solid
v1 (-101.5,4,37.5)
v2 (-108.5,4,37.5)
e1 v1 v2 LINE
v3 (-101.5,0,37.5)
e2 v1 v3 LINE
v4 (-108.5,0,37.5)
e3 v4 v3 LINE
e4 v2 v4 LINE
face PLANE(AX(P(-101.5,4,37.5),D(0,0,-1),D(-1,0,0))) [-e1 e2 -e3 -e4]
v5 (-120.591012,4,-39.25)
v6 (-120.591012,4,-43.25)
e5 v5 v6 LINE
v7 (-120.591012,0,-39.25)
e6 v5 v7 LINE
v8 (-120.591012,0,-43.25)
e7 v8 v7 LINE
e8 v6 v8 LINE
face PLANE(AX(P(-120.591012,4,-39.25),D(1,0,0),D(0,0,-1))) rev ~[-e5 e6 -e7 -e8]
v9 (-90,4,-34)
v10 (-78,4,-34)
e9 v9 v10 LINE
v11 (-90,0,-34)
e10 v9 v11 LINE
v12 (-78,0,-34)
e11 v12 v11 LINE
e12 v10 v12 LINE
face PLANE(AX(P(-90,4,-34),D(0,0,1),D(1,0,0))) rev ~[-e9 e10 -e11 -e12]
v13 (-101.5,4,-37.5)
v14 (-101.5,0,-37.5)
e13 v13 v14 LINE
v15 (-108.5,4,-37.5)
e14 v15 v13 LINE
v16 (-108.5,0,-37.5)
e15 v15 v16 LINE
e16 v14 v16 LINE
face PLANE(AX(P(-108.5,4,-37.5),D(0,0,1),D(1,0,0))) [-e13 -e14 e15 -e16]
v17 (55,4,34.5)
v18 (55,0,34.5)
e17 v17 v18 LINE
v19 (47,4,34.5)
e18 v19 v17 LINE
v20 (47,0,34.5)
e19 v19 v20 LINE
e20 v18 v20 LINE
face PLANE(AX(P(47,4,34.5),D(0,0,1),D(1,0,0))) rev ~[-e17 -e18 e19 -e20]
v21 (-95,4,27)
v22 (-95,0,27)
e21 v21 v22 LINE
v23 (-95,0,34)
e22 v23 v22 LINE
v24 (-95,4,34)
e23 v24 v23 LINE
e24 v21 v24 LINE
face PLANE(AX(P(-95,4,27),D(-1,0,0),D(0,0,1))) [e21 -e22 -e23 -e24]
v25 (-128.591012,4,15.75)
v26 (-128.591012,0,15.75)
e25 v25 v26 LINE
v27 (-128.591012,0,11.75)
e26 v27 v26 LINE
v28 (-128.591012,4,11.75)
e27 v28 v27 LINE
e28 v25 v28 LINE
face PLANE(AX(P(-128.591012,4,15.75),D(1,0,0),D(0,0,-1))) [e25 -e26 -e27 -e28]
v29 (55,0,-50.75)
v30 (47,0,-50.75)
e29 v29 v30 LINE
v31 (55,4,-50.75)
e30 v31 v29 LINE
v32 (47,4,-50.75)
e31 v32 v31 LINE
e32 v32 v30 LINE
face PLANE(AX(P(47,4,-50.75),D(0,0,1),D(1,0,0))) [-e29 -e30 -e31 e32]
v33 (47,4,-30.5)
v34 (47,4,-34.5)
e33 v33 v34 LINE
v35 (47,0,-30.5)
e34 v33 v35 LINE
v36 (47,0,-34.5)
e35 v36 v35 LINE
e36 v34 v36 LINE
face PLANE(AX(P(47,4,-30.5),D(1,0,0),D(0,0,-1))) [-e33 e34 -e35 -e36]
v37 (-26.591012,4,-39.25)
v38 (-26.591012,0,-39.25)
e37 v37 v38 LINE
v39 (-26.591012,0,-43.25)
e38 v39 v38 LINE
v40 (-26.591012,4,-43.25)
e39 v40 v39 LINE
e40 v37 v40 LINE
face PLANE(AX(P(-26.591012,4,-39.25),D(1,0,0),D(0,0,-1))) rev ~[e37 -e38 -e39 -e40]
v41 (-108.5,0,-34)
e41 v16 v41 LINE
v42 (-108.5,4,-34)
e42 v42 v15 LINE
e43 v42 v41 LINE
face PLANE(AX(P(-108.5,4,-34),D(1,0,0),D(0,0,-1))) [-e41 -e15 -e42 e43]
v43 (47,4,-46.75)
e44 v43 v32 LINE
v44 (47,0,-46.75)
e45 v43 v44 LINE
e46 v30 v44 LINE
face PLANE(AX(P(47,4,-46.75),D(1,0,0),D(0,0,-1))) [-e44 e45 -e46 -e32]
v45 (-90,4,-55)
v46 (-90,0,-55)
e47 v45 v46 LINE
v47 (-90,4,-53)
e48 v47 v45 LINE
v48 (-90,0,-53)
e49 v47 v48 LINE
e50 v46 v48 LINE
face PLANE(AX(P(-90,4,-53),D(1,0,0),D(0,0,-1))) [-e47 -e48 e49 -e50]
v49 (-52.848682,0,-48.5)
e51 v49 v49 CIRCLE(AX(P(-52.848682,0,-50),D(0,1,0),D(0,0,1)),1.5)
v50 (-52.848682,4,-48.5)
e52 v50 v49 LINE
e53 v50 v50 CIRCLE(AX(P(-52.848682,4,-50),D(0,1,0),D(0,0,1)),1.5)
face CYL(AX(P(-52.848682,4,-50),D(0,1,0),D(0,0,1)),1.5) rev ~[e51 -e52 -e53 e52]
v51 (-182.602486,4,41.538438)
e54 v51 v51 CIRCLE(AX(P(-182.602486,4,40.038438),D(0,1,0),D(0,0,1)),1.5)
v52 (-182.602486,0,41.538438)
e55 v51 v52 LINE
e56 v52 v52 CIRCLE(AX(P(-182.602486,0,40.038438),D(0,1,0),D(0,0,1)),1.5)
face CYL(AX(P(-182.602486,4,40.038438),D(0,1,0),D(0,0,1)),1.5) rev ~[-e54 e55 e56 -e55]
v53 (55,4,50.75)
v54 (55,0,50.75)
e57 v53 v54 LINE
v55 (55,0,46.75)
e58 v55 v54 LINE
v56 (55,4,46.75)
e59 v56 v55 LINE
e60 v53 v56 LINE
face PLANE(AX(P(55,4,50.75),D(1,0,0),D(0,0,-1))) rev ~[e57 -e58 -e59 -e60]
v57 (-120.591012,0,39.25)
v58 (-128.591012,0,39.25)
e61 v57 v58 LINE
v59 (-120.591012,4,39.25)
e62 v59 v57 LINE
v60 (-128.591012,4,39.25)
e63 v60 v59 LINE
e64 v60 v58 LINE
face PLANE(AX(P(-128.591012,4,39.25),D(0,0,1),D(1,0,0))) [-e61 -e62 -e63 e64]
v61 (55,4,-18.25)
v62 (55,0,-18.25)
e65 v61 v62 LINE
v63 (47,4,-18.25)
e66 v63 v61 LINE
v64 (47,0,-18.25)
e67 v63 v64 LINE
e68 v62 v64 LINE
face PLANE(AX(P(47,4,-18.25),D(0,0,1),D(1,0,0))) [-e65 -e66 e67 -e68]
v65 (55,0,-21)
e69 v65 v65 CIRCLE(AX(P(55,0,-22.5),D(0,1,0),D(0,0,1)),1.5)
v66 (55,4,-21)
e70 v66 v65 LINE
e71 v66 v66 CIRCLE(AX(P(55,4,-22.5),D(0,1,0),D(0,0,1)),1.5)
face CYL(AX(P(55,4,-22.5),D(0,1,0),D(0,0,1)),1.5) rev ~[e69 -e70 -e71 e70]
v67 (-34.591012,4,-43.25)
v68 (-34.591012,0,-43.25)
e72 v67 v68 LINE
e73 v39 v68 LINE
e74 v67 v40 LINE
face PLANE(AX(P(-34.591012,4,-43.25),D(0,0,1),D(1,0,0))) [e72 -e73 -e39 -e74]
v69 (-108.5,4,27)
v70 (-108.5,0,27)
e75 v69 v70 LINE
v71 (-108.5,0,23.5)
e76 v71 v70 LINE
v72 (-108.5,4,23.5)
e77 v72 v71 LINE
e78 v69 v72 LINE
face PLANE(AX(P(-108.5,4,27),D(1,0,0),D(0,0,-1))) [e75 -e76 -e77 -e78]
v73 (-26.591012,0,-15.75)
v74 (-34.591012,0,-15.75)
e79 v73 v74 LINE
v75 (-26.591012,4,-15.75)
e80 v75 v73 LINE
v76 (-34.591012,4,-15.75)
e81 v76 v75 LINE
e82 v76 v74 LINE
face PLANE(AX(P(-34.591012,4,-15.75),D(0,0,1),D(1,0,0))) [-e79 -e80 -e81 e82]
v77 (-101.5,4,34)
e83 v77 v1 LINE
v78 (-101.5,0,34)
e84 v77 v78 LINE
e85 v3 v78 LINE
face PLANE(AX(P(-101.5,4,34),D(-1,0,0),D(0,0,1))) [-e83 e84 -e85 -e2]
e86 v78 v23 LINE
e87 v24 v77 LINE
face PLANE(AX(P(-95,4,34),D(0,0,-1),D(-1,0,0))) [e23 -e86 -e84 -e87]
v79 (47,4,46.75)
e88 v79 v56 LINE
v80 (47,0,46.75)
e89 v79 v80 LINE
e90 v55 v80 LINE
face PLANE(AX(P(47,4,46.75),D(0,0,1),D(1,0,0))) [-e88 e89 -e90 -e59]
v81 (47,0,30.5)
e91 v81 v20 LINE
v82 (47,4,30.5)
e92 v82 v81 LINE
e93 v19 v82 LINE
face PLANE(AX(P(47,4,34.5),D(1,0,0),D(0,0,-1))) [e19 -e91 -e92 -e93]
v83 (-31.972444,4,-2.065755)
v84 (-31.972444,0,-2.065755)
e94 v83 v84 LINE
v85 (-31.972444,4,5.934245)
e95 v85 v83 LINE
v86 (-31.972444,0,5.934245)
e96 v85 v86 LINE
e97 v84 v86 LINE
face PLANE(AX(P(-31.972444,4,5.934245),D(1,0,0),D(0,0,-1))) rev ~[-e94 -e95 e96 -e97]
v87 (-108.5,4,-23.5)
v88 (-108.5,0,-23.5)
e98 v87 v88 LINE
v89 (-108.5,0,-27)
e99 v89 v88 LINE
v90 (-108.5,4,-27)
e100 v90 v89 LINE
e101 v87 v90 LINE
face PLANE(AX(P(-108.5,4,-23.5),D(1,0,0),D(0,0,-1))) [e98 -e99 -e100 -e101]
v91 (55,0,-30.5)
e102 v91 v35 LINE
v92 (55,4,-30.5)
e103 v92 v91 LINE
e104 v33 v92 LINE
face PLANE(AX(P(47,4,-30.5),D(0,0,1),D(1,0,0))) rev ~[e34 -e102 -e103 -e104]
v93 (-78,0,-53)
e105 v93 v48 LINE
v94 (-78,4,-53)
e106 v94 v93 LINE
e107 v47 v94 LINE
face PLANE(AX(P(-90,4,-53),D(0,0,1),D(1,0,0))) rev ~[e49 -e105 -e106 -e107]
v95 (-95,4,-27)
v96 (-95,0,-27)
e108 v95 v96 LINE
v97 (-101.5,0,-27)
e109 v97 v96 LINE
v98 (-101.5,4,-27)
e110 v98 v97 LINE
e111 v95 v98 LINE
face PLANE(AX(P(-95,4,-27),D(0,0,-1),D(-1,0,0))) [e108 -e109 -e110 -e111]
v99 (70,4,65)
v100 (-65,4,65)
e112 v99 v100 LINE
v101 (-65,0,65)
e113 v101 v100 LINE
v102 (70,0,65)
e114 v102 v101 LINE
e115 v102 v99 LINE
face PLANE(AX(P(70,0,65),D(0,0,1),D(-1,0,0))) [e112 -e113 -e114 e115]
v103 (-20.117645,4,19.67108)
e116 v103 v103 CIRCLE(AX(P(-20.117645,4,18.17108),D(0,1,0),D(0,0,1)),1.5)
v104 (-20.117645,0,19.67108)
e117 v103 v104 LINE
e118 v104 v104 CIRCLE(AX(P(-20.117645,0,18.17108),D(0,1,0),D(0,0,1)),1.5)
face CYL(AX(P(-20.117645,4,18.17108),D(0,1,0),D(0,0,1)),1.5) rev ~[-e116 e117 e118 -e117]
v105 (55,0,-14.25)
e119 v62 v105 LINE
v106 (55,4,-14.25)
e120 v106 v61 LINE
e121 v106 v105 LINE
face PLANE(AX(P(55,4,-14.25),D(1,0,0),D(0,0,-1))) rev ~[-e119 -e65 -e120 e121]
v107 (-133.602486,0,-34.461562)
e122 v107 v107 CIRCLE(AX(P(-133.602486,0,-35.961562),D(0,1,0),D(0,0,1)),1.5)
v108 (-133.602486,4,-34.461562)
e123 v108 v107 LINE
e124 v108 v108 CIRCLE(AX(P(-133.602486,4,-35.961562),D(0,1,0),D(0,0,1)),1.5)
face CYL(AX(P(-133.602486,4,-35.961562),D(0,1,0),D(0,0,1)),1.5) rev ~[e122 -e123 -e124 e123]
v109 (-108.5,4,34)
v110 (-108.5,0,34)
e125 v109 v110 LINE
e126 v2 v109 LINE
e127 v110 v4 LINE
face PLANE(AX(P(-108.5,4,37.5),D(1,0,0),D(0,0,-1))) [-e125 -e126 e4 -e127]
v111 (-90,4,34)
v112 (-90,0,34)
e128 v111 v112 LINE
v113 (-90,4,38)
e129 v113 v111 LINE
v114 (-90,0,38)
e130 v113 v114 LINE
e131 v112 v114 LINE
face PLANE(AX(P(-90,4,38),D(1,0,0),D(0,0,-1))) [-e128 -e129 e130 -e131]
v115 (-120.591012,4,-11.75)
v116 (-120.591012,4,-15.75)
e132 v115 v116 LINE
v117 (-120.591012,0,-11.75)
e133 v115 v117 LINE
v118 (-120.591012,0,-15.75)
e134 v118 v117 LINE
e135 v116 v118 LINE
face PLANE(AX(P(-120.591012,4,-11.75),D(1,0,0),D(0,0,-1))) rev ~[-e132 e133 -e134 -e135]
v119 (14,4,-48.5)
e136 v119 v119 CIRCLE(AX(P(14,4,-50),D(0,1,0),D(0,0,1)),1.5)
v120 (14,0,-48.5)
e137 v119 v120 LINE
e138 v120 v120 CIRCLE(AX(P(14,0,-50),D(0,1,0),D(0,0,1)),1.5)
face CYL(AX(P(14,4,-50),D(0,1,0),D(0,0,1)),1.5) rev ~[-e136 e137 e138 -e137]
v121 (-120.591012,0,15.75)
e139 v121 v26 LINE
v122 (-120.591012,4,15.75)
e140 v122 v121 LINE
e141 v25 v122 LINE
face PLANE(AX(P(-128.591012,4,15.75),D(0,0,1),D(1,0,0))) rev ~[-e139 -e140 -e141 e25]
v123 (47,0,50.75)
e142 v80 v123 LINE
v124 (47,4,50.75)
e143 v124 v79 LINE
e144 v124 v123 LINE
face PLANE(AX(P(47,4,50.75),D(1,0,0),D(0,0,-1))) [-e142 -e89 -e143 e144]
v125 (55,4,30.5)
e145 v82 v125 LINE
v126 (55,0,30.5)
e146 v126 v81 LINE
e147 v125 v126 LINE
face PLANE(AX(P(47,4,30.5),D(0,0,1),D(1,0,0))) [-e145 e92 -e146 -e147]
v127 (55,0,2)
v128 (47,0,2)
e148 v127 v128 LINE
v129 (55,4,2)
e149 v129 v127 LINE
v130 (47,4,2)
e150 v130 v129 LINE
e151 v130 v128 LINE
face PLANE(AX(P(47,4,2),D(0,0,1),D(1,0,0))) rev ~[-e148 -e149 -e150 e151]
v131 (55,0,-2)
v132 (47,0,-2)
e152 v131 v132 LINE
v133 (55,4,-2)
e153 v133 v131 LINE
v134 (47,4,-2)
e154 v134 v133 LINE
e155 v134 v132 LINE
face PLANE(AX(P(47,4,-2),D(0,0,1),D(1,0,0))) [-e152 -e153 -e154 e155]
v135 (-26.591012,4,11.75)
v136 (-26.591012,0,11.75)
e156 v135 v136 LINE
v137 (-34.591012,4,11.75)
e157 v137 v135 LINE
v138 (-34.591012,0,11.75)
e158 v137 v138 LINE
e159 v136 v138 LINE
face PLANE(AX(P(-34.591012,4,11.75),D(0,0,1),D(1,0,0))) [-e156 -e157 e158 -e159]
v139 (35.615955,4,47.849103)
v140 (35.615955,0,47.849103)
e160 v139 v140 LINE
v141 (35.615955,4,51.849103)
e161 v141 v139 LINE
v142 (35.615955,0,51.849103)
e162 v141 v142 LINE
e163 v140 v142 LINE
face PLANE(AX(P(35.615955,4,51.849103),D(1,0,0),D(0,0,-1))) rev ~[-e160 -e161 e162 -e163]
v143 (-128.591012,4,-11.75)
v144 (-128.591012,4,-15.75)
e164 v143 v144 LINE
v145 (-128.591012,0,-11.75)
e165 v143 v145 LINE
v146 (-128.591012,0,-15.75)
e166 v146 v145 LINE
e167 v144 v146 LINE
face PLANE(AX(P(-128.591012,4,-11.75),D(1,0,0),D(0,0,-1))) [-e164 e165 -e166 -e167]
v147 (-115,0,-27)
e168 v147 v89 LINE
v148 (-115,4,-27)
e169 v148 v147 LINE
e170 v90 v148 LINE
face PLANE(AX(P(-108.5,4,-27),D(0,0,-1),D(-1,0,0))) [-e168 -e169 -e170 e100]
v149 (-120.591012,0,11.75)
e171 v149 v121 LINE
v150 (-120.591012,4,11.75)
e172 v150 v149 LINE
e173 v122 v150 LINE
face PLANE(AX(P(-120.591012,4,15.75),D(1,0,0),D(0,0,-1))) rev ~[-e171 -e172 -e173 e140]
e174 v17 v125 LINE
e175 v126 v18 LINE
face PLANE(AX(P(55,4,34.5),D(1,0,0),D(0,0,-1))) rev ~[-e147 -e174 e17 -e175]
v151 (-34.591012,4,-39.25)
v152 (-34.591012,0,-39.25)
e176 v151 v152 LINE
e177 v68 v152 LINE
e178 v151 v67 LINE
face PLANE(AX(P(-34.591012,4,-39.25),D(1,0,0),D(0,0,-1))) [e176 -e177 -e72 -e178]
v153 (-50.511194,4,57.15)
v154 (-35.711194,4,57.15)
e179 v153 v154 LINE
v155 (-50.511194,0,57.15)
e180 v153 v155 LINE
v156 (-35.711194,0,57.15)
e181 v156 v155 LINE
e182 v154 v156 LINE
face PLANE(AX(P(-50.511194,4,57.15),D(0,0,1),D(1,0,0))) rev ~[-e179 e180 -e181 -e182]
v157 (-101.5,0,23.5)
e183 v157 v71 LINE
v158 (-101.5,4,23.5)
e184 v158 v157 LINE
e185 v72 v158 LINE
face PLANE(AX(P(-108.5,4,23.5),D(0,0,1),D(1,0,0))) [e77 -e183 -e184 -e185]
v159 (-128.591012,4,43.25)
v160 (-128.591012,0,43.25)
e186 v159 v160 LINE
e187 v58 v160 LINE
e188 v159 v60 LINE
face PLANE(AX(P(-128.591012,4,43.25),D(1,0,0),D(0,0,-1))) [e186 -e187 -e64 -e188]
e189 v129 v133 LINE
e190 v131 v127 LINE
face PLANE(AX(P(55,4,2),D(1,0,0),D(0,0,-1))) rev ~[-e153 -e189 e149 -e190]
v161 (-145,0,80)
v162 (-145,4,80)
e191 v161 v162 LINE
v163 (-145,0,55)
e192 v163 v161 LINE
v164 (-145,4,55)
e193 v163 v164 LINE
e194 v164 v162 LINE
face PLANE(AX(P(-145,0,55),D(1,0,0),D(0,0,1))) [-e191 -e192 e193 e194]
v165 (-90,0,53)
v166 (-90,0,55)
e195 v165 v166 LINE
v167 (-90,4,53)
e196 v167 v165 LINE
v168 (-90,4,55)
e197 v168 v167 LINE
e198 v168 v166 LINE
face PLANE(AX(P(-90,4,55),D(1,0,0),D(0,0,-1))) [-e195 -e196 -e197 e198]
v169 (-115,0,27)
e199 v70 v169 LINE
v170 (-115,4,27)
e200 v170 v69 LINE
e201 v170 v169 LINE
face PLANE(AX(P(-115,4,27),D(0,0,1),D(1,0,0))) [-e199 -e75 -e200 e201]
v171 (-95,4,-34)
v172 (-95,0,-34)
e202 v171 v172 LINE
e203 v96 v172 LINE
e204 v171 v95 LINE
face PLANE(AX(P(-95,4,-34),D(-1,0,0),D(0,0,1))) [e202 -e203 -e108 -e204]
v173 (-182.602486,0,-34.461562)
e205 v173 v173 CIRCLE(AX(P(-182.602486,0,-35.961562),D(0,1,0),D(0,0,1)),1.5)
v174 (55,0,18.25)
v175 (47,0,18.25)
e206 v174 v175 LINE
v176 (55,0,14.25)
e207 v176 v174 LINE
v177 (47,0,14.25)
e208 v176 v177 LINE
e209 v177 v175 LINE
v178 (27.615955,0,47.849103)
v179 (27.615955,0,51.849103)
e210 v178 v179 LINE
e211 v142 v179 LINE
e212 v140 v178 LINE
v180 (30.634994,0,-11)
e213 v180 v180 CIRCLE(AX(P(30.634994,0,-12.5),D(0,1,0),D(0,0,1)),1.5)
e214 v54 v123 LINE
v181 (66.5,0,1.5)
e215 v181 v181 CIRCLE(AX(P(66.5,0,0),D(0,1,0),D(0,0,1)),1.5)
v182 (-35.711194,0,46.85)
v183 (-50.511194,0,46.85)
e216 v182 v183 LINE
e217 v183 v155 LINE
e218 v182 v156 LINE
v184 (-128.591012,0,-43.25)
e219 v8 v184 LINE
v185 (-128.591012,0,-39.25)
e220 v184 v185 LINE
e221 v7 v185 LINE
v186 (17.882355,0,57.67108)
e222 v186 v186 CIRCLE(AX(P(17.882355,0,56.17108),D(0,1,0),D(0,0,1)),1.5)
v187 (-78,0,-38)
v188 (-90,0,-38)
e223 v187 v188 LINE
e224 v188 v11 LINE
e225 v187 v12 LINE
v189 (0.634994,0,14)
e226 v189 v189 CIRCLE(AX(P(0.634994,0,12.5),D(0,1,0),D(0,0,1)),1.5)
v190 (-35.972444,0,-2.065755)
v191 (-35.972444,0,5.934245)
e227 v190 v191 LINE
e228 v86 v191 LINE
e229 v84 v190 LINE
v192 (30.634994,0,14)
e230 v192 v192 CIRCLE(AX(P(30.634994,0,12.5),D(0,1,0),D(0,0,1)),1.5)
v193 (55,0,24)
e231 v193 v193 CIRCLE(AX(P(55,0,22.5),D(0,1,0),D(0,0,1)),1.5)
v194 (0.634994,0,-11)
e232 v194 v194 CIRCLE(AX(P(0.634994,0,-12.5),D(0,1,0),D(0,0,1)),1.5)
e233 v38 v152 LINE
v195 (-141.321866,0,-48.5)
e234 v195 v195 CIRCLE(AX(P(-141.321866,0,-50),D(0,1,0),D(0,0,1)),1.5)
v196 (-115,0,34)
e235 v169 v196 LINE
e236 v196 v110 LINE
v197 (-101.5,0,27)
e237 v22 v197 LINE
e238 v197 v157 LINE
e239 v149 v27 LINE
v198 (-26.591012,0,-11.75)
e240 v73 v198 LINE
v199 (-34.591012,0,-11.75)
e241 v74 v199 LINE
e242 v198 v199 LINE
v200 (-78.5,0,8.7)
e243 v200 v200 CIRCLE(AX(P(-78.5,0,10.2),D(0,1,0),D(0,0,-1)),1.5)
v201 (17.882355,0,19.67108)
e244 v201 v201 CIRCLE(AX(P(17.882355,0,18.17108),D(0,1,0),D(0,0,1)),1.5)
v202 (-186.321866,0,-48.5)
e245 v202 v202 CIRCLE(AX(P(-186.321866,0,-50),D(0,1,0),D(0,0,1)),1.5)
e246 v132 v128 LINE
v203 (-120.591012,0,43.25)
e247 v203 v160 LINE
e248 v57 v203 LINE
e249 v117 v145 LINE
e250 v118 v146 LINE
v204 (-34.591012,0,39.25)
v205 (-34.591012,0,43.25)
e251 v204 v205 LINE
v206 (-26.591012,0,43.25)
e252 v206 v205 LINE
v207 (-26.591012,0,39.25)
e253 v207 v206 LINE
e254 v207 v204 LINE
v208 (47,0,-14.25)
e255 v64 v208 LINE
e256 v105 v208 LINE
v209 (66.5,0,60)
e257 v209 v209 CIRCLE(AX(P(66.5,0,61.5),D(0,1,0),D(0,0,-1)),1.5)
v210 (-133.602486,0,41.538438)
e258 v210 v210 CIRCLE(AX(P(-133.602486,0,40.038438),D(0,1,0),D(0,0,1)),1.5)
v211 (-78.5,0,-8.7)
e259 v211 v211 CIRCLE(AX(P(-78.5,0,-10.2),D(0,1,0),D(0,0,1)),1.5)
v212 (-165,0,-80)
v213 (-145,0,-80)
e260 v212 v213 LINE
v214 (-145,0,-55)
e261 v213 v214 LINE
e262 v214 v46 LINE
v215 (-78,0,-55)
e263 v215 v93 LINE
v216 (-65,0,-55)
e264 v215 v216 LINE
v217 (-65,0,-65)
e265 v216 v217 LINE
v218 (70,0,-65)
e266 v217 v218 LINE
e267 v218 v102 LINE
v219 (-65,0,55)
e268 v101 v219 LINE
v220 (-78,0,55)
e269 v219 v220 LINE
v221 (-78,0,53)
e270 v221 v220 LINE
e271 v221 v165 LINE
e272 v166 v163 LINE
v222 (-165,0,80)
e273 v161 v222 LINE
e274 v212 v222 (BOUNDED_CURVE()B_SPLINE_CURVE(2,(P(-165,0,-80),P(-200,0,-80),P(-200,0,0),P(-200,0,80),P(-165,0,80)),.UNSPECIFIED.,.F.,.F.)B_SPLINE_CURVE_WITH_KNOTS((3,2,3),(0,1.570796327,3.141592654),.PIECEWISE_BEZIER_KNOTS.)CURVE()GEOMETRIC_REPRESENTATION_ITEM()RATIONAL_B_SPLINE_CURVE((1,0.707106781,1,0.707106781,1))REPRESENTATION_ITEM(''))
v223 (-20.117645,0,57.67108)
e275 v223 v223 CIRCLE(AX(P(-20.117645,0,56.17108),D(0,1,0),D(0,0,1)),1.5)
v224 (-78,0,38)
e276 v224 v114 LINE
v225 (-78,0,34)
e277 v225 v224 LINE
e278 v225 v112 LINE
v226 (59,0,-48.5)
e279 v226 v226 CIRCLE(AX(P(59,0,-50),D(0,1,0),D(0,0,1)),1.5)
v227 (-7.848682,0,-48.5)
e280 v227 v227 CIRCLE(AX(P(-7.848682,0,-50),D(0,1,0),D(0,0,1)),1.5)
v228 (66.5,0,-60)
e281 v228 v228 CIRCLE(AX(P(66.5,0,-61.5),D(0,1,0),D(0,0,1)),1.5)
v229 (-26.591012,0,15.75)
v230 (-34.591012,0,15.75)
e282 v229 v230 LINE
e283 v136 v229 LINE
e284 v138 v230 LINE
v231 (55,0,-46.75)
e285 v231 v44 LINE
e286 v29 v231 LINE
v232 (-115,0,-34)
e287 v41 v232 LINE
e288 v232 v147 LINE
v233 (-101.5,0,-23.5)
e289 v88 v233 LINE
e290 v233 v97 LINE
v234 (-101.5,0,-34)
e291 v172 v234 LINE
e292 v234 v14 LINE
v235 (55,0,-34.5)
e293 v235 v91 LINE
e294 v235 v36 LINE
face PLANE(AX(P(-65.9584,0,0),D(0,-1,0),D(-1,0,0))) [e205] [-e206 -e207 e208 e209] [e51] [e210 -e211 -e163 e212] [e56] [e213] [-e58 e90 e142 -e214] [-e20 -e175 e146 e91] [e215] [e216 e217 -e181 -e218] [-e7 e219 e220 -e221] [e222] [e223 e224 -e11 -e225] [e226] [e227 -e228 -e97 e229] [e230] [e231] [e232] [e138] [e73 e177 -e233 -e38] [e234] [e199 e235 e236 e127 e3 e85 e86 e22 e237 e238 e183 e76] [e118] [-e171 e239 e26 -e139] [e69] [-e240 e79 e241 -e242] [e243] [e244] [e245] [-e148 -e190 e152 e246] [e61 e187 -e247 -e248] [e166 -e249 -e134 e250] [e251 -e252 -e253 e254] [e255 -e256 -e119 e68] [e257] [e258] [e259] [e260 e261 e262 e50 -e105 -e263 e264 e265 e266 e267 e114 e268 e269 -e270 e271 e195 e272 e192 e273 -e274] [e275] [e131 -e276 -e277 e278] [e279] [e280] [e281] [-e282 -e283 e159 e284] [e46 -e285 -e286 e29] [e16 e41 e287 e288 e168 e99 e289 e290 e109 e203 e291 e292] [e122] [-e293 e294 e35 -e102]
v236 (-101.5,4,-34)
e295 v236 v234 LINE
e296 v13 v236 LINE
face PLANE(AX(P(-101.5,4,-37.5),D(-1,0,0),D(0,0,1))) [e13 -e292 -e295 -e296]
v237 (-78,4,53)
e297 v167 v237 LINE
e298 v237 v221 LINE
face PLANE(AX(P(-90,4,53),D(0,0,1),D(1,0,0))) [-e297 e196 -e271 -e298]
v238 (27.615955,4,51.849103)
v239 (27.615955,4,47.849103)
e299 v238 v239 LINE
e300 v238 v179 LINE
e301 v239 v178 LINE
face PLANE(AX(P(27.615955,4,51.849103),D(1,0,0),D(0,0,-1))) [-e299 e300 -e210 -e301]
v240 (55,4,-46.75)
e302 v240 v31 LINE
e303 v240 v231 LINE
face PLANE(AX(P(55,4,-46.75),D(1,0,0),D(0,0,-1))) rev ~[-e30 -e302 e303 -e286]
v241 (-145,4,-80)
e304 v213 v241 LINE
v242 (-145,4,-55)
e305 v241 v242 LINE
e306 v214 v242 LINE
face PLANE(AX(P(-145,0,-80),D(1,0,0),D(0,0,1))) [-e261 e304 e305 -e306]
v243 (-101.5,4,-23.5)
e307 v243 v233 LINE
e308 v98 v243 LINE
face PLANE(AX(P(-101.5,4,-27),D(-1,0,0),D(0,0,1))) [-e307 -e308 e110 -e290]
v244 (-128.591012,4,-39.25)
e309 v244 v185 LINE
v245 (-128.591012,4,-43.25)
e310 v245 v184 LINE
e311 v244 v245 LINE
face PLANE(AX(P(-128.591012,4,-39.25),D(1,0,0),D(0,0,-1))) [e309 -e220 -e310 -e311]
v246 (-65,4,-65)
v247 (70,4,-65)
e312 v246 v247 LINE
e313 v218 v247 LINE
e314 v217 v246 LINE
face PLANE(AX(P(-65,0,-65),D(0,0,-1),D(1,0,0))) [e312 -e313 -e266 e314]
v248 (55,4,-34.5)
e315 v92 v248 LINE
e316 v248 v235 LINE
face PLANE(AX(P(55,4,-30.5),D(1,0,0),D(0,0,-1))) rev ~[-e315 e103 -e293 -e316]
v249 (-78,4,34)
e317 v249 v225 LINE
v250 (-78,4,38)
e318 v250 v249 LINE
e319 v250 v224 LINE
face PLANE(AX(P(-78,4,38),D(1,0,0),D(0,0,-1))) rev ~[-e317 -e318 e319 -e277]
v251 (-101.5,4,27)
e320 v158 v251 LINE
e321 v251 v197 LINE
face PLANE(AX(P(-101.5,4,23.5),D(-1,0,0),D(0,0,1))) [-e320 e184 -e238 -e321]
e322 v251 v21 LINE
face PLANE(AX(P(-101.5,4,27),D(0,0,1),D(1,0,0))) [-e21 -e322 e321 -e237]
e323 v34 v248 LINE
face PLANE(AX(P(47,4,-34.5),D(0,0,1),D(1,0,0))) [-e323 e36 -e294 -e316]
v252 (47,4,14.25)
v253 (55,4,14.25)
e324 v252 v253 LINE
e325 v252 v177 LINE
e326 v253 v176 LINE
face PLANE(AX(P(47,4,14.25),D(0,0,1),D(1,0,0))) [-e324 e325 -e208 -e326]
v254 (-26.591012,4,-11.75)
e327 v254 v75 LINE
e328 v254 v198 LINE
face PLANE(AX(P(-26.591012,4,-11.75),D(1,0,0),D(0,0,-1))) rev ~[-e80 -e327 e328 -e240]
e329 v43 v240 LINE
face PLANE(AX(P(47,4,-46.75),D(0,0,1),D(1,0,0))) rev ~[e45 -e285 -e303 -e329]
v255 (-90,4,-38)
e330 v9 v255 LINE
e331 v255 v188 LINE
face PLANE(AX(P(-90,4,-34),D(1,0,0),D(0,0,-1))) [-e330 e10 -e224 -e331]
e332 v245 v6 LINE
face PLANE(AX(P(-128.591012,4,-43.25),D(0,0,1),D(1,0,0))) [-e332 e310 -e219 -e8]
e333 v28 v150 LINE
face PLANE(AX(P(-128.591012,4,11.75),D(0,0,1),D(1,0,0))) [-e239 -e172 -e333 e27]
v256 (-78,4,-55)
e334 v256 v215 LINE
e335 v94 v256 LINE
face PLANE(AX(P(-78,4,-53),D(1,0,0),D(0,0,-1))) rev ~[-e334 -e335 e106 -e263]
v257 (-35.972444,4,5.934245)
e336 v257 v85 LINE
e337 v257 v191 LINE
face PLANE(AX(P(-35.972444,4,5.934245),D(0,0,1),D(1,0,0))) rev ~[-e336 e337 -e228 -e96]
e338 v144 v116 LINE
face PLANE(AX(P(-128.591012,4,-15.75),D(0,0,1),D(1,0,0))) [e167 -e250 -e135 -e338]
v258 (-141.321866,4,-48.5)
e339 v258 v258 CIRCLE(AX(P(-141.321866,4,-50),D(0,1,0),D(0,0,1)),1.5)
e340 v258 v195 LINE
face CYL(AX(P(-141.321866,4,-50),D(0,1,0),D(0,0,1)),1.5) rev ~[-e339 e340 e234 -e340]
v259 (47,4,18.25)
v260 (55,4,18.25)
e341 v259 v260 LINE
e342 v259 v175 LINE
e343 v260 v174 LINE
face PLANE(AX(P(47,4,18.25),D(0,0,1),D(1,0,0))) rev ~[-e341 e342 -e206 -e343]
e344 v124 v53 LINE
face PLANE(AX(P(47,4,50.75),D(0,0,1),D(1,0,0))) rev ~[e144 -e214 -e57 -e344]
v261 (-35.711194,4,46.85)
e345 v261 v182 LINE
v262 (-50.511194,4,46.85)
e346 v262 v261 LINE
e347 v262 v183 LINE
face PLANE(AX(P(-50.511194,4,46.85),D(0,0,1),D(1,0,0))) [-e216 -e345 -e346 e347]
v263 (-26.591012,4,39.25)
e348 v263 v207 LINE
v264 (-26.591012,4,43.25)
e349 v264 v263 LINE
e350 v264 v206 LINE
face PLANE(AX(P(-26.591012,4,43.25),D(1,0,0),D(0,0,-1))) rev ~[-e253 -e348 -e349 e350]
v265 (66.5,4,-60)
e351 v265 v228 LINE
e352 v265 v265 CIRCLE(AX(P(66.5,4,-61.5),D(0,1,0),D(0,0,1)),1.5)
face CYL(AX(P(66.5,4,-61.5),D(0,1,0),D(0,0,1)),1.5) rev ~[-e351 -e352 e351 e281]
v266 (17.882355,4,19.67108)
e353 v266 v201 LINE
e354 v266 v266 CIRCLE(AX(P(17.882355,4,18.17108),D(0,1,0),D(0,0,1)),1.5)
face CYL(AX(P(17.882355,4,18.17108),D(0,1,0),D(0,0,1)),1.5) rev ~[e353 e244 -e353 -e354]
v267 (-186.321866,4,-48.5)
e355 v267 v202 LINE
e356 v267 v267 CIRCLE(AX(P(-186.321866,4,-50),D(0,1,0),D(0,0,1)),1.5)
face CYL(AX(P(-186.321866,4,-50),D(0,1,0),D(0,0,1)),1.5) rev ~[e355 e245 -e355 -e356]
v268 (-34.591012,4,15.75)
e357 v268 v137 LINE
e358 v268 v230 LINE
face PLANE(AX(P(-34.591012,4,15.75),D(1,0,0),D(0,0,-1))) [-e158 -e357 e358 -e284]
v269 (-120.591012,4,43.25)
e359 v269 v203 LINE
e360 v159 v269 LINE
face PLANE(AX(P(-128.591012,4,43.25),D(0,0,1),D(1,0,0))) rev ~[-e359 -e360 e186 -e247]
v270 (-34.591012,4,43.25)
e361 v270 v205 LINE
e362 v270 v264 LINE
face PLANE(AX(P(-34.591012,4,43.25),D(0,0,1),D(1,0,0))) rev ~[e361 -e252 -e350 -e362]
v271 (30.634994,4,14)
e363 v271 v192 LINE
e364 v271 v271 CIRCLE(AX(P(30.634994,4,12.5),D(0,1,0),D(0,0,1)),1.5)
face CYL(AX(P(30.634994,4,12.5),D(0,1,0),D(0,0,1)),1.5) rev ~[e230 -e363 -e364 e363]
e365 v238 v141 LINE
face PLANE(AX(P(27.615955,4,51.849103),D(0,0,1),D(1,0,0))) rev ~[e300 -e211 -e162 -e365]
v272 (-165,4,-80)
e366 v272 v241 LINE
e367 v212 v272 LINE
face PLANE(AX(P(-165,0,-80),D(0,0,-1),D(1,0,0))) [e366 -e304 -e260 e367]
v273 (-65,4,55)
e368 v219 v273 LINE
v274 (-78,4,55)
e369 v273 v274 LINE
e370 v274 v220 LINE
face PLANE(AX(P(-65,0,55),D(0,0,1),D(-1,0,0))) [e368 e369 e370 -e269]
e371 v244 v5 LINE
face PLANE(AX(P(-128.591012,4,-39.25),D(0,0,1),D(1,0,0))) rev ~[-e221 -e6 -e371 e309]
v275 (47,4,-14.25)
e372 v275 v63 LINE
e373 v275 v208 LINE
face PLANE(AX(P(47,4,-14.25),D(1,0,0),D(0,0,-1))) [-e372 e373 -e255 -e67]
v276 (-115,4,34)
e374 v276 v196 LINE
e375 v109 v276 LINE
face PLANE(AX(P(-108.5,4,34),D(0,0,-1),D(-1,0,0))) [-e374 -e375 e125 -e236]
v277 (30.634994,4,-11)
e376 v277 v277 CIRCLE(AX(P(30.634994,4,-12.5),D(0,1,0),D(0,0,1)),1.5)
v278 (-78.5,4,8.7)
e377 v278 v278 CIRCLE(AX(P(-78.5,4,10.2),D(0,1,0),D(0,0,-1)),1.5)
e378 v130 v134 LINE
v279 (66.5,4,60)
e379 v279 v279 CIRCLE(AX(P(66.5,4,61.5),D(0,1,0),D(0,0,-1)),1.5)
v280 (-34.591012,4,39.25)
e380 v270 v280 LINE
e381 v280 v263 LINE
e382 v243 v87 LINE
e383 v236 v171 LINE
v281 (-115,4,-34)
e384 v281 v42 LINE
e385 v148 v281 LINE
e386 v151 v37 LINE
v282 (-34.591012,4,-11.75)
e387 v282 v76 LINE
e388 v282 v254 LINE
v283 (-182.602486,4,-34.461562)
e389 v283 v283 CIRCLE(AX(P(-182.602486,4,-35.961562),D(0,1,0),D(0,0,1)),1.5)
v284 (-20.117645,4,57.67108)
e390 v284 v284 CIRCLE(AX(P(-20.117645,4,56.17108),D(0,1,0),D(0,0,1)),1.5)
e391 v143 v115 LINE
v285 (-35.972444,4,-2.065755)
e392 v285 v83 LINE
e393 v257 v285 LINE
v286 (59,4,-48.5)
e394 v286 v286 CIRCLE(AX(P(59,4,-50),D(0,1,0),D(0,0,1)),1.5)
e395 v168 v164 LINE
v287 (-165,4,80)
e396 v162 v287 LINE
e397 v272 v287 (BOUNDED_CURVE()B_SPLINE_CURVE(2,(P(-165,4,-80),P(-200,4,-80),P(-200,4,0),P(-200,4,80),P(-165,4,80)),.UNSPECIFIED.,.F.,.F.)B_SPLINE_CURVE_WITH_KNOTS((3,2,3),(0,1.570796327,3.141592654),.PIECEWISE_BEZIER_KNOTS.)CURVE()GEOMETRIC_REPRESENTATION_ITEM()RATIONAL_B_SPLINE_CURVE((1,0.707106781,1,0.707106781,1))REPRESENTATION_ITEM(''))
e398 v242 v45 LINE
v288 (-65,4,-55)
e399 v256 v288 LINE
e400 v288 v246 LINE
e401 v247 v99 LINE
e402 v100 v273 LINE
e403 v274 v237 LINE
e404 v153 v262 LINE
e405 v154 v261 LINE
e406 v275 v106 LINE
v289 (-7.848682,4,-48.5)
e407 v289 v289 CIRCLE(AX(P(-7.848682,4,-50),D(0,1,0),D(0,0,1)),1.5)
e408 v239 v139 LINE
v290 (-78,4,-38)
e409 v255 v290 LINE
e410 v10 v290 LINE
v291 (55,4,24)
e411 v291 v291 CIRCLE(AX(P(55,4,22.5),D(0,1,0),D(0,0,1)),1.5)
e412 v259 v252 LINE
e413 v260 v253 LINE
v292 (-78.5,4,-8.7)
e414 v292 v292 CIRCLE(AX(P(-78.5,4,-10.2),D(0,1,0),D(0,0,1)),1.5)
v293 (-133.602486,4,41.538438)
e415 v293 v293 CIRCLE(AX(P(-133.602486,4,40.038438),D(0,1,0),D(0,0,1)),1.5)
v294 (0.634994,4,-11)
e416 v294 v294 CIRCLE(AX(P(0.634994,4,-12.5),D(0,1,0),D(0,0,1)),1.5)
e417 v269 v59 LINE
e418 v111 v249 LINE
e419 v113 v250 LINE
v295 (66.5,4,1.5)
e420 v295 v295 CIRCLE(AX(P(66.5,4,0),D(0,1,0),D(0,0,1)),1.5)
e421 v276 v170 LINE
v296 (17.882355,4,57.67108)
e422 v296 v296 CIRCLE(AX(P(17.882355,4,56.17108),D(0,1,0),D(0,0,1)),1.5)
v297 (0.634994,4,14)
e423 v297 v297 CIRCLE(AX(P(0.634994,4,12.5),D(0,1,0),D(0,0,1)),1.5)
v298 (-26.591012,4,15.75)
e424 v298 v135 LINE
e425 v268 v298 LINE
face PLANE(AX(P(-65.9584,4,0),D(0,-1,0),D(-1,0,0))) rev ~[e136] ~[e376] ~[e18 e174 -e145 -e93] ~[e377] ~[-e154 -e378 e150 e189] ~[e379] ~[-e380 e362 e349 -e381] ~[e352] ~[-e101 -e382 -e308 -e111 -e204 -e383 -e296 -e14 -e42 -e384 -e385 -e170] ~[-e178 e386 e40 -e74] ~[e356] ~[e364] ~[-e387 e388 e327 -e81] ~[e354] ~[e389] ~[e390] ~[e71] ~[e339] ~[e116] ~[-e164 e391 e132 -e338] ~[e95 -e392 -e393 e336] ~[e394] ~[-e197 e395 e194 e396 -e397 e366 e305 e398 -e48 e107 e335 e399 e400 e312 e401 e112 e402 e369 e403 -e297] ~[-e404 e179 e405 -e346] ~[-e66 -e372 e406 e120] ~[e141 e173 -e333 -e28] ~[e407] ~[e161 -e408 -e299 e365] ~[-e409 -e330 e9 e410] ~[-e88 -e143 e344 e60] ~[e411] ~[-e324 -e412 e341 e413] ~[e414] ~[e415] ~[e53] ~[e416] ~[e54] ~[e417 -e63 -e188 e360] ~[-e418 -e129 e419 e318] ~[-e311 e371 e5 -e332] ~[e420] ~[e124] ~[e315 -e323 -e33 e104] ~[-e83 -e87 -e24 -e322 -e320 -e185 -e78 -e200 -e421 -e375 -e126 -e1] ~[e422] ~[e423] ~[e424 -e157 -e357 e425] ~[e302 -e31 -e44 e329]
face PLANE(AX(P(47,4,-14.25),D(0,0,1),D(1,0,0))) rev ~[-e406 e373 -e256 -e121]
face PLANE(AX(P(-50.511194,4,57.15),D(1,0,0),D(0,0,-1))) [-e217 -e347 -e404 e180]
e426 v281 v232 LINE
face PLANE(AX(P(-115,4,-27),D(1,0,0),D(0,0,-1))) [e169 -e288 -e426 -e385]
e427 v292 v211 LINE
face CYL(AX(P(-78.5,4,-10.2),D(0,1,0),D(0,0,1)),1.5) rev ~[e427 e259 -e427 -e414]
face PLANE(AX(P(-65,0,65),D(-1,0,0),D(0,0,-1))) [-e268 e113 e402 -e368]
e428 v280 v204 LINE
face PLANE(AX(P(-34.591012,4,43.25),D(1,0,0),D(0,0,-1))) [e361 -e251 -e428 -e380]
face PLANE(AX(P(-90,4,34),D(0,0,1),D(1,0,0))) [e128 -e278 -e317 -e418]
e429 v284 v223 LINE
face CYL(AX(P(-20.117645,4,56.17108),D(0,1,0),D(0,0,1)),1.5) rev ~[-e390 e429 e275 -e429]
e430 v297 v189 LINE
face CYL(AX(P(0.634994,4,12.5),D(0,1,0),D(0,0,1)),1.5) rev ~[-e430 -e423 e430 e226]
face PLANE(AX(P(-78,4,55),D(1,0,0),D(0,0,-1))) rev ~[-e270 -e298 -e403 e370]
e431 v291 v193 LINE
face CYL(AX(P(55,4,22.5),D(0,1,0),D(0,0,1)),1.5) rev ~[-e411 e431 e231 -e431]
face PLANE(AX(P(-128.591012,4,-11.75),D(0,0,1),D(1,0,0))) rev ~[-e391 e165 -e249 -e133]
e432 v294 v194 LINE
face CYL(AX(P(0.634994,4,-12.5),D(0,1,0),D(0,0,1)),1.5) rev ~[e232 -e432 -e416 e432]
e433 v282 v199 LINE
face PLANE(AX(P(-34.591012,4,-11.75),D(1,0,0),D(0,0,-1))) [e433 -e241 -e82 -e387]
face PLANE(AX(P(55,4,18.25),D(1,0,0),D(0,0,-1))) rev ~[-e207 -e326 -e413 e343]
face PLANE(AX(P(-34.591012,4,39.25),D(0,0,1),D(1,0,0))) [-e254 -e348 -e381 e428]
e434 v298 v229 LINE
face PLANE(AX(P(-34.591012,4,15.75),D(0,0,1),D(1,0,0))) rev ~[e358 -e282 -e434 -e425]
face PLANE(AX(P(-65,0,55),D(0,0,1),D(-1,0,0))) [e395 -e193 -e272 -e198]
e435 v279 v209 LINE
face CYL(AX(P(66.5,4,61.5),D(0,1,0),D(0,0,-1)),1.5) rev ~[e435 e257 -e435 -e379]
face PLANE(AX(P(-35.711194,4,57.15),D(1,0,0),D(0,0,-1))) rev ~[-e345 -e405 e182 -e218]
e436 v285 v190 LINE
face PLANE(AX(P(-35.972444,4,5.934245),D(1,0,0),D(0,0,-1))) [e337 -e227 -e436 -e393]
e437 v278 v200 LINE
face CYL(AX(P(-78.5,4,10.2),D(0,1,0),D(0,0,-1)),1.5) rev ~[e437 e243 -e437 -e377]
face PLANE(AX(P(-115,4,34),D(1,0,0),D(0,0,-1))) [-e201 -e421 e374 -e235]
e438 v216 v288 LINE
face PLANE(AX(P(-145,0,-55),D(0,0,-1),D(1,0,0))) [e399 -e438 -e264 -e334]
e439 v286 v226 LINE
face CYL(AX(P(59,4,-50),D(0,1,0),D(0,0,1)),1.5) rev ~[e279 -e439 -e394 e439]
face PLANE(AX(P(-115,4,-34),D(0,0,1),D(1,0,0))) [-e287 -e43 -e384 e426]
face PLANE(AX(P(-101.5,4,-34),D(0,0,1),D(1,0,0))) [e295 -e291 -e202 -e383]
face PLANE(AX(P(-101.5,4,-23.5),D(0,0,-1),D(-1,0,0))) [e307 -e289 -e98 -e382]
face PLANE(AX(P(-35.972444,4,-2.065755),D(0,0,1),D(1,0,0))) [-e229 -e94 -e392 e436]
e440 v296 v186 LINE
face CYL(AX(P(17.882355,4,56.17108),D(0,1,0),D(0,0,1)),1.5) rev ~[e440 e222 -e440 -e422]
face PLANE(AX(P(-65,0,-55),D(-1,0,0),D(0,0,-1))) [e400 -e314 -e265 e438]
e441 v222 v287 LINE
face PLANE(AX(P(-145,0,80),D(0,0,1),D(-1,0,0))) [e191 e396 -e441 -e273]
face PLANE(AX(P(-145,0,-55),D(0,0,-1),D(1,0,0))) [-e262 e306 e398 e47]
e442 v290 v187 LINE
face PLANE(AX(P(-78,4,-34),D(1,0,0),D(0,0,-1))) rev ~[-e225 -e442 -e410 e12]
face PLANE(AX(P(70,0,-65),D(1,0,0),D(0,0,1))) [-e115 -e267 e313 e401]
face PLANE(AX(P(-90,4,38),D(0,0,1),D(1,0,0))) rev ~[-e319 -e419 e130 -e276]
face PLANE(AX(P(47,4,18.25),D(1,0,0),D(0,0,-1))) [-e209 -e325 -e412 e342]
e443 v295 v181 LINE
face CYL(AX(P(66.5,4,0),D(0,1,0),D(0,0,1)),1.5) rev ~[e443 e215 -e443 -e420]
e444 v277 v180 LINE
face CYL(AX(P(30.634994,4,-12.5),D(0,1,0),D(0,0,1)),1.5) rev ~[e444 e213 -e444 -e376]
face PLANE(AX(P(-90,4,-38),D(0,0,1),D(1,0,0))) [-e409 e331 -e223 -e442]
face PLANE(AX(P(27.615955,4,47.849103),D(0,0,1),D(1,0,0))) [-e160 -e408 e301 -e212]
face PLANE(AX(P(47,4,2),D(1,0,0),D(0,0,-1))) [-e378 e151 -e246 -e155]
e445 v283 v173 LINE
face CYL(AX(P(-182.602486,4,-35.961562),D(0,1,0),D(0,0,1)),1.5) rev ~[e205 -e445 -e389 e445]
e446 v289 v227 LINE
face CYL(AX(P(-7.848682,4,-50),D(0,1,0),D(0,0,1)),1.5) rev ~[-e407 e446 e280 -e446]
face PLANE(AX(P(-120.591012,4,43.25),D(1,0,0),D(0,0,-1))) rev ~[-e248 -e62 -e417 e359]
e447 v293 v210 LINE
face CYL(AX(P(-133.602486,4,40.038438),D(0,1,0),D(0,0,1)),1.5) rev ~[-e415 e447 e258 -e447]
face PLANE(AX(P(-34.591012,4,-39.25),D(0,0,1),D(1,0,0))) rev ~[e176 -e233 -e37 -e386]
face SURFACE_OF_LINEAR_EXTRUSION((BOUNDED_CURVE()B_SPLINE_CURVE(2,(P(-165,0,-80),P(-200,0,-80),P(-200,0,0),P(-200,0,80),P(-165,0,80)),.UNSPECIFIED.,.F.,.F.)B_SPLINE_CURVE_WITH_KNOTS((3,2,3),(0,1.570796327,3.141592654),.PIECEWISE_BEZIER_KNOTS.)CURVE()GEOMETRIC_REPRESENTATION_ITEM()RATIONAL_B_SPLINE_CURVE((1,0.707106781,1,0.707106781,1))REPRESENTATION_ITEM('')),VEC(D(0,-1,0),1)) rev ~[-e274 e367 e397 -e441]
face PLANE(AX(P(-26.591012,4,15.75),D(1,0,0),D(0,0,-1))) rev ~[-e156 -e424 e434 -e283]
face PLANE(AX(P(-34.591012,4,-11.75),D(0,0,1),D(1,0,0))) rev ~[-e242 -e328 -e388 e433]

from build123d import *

# Parameters (mm, degrees)
BOSS_EXTRUDE1_DEPTH = 4
SKETCH3_R           = 1.5
CUT_EXTRUDE1_DEPTH  = 212.025041063
SKETCH4_W           = 8
SKETCH4_H           = 4
CUT_EXTRUDE2_DEPTH  = 216.443728284
SKETCH12_W          = 12
SKETCH12_H          = 2
SKETCH12_H_2        = 4
CUT_EXTRUDE8_DEPTH  = 216.443728284
SKETCH5_R           = 1.5
SKETCH5_W           = 4
SKETCH5_H           = 8
CUT_EXTRUDE3_DEPTH  = 216.443728284
SKETCH7_W           = 14.8
SKETCH7_H           = 10.3
CUT_EXTRUDE4_DEPTH  = 216.443728284
SKETCH8_R           = 1.5
CUT_EXTRUDE5_DEPTH  = 193.963810644
SKETCH9_W           = 8
SKETCH9_H           = 4
CUT_EXTRUDE6_DEPTH  = 216.443728284
SKETCH10_R          = 1.5
CUT_EXTRUDE7_DEPTH  = 216.443728284
SKETCH13_W          = 8
SKETCH13_H          = 4
CUT_EXTRUDE9_DEPTH  = 216.443728284
SKETCH14_R          = 1.5
CUT_EXTRUDE10_DEPTH = 216.443728284
SKETCH15_R          = 1.5
CUT_EXTRUDE11_DEPTH = 216.443728284


with BuildPart() as part:
    # Sketch1 → Boss-Extrude1 (new body)
    with BuildSketch(Plane(origin=(0, 0, 0), x_dir=(1, 0, 0), z_dir=(0, 1, 0))):
        with BuildLine():
            Line((-70, -55), (-145, -55))
            Line((-145, -55), (-145, -80))
            Line((-145, -80), (-165, -80))
            add(Edge.make_bspline(
                [(-165, 80), (-200, 80), (-200, 0), (-200, -80), (-165, -80)],
                knots=[0, 0, 0, 1.570796327, 1.570796327, 3.141592654, 3.141592654, 3.141592654], degree=2, weights=[1, 0.707106781, 1, 0.707106781, 1]))
            Line((-165, 80), (-145, 80))
            Line((-145, 80), (-145, 55))
            Line((-145, 55), (-70, 55))
            Line((-70, 55), (-65, 55))
            Line((-65, 55), (-65, 65))
            Line((-65, 65), (70, 65))
            Line((70, 65), (70, -65))
            Line((70, -65), (-65, -65))
            Line((-65, -65), (-65, -55))
            Line((-65, -55), (-70, -55))
        make_face()
    extrude(amount=BOSS_EXTRUDE1_DEPTH)

    # Sketch3 → Cut-Extrude1 (cut, through all)
    with BuildSketch(Plane(origin=(-6.985602404, 4, -5.211561537), x_dir=(1, 0, 0), z_dir=(0, 1, 0))):
        with Locations(Location((-175.616883117, 30.75, 0), (0, 0, 270))):
            Circle(SKETCH3_R)
        with Locations(Location((-126.616883117, -45.25, 0), (0, 0, 270))):
            Circle(SKETCH3_R)
        with Locations(Location((-175.616883117, -45.25, 0), (0, 0, 270))):
            Circle(SKETCH3_R)
        with Locations(Location((-126.616883117, 30.75, 0), (0, 0, 270))):
            Circle(SKETCH3_R)
    extrude(amount=-CUT_EXTRUDE1_DEPTH, mode=Mode.SUBTRACT)

    # Sketch4 → Cut-Extrude2 (cut, through all)
    with BuildSketch(Plane(origin=(0, 4, 0), x_dir=(1, 0, 0), z_dir=(0, 1, 0))):
        with Locations((-124.591012162, 13.75)):
            Rectangle(SKETCH4_W, SKETCH4_H)
        with Locations((-124.591012162, 41.25)):
            Rectangle(SKETCH4_W, SKETCH4_H)
        with Locations((-124.591012162, -13.75)):
            Rectangle(SKETCH4_W, SKETCH4_H)
        with Locations((-124.591012162, -41.25)):
            Rectangle(SKETCH4_W, SKETCH4_H)
        with Locations((-30.591012162, 41.25)):
            Rectangle(SKETCH4_W, SKETCH4_H)
        with Locations((-30.591012162, 13.75)):
            Rectangle(SKETCH4_W, SKETCH4_H)
        with Locations((-30.591012162, -13.75)):
            Rectangle(SKETCH4_W, SKETCH4_H)
        with Locations((-30.591012162, -41.25)):
            Rectangle(SKETCH4_W, SKETCH4_H)
    extrude(amount=-CUT_EXTRUDE2_DEPTH, mode=Mode.SUBTRACT)

    # Sketch12 → Cut-Extrude8 (cut, through all)
    with BuildSketch(Plane(origin=(0, 4, 0), x_dir=(1, 0, 0), z_dir=(0, 1, 0))):
        with Locations((-84, 54)):
            Rectangle(SKETCH12_W, SKETCH12_H)
        with Locations((-84, -54)):
            Rectangle(SKETCH12_W, SKETCH12_H)
        with Locations((-84, -36)):
            Rectangle(SKETCH12_W, SKETCH12_H_2)
        Polygon((-115, -27), (-108.5, -27), (-108.5, -23.5), (-101.5, -23.5), (-101.5, -27), (-95, -27), (-95, -34), (-101.5, -34), (-101.5, -37.5), (-108.5, -37.5), (-108.5, -34), (-115, -34), align=None)
        with Locations((-84, 36)):
            Rectangle(SKETCH12_W, SKETCH12_H_2)
        Polygon((-101.5, 37.5), (-101.5, 34), (-95, 34), (-95, 27), (-101.5, 27), (-101.5, 23.5), (-108.5, 23.5), (-108.5, 27), (-115, 27), (-115, 34), (-108.5, 34), (-108.5, 37.5), align=None)
    extrude(amount=-CUT_EXTRUDE8_DEPTH, mode=Mode.SUBTRACT)

    # Sketch5 → Cut-Extrude3 (cut, through all)
    with BuildSketch(Plane(origin=(0, 4, 0), x_dir=(1, 0, 0), z_dir=(0, 1, 0))):
        with Locations(Location((-78.5, 10.2, 0), (0, 0, 270))):
            Circle(SKETCH5_R)
        with Locations(Location((-78.5, -10.199999999, 0), (0, 0, 90))):
            Circle(SKETCH5_R)
        with Locations((-33.972444042, -1.934244663)):
            Rectangle(SKETCH5_W, SKETCH5_H)
    extrude(amount=-CUT_EXTRUDE3_DEPTH, mode=Mode.SUBTRACT)

    # Sketch7 → Cut-Extrude4 (cut, through all)
    with BuildSketch(Plane(origin=(0, 4, 0), x_dir=(1, 0, 0), z_dir=(0, 1, 0))):
        with Locations((-43.111193568, -52)):
            Rectangle(SKETCH7_W, SKETCH7_H)
    extrude(amount=-CUT_EXTRUDE4_DEPTH, mode=Mode.SUBTRACT)

    # Sketch8 → Cut-Extrude5 (cut, through all)
    with BuildSketch(Plane(origin=(-25.427645794, 4, 2.118970483), x_dir=(1, 0, 0), z_dir=(0, 1, 0))):
        with Locations(Location((5.310001272, -16.0521097, 0), (0, 0, 270))):
            Circle(SKETCH8_R)
        with Locations(Location((43.310001272, -16.0521097, 0), (0, 0, 270))):
            Circle(SKETCH8_R)
        with Locations(Location((43.310001272, -54.0521097, 0), (0, 0, 270))):
            Circle(SKETCH8_R)
        with Locations(Location((5.310001272, -54.0521097, 0), (0, 0, 270))):
            Circle(SKETCH8_R)
    extrude(amount=-CUT_EXTRUDE5_DEPTH, mode=Mode.SUBTRACT)

    # Sketch9 → Cut-Extrude6 (cut, through all)
    with BuildSketch(Plane(origin=(0, 4, 0), x_dir=(1, 0, 0), z_dir=(0, 1, 0))):
        with Locations((51, -16.25)):
            Rectangle(SKETCH9_W, SKETCH9_H)
        with Locations((51, 0)):
            Rectangle(SKETCH9_W, SKETCH9_H)
        with Locations((51, -32.5)):
            Rectangle(SKETCH9_W, SKETCH9_H)
        with Locations((51, -48.75)):
            Rectangle(SKETCH9_W, SKETCH9_H)
        with Locations((51, 48.75)):
            Rectangle(SKETCH9_W, SKETCH9_H)
        with Locations((51, 32.5)):
            Rectangle(SKETCH9_W, SKETCH9_H)
        with Locations((51, 16.25)):
            Rectangle(SKETCH9_W, SKETCH9_H)
    extrude(amount=-CUT_EXTRUDE6_DEPTH, mode=Mode.SUBTRACT)

    # Sketch10 → Cut-Extrude7 (cut, through all)
    with BuildSketch(Plane(origin=(0, 4, 0), x_dir=(1, 0, 0), z_dir=(0, 1, 0))):
        with Locations(Location((30.634993505, 12.5, 0), (0, 0, 270))):
            Circle(SKETCH10_R)
        with Locations(Location((0.634993505, 12.5, 0), (0, 0, 270))):
            Circle(SKETCH10_R)
        with Locations(Location((30.634993505, -12.5, 0), (0, 0, 270))):
            Circle(SKETCH10_R)
        with Locations(Location((0.634993505, -12.5, 0), (0, 0, 270))):
            Circle(SKETCH10_R)
    extrude(amount=-CUT_EXTRUDE7_DEPTH, mode=Mode.SUBTRACT)

    # Sketch13 → Cut-Extrude9 (cut, through all)
    with BuildSketch(Plane(origin=(0, 4, 0), x_dir=(1, 0, 0), z_dir=(0, 1, 0))):
        with Locations((31.615955473, -49.849103278)):
            Rectangle(SKETCH13_W, SKETCH13_H)
    extrude(amount=-CUT_EXTRUDE9_DEPTH, mode=Mode.SUBTRACT)

    # Sketch14 → Cut-Extrude10 (cut, through all)
    with BuildSketch(Plane(origin=(0, 4, 0), x_dir=(1, 0, 0), z_dir=(0, 1, 0))):
        with Locations(Location((66.5, 61.5, 0), (0, 0, 270))):
            Circle(SKETCH14_R)
        with Locations(Location((66.5, 0, 0), (0, 0, 270))):
            Circle(SKETCH14_R)
        with Locations(Location((66.5, -61.5, 0), (0, 0, 90))):
            Circle(SKETCH14_R)
    extrude(amount=-CUT_EXTRUDE10_DEPTH, mode=Mode.SUBTRACT)

    # Sketch15 → Cut-Extrude11 (cut, through all)
    with BuildSketch(Plane(origin=(0, 4, 0), x_dir=(1, 0, 0), z_dir=(0, 1, 0))):
        with Locations(Location((59, 50, 0), (0, 0, 270))):
            Circle(SKETCH15_R)
        with Locations(Location((14, 50, 0), (0, 0, 270))):
            Circle(SKETCH15_R)
        with Locations(Location((-52.848681511, 50, 0), (0, 0, 270))):
            Circle(SKETCH15_R)
        with Locations(Location((-7.848681511, 50, 0), (0, 0, 270))):
            Circle(SKETCH15_R)
        with Locations(Location((-186.321866243, 50, 0), (0, 0, 270))):
            Circle(SKETCH15_R)
        with Locations(Location((-141.321866243, 50, 0), (0, 0, 270))):
            Circle(SKETCH15_R)
        with Locations(Location((55, 22.5, 0), (0, 0, 270))):
            Circle(SKETCH15_R)
        with Locations(Location((55, -22.5, 0), (0, 0, 270))):
            Circle(SKETCH15_R)
    extrude(amount=-CUT_EXTRUDE11_DEPTH, mode=Mode.SUBTRACT)


solid = part.part
